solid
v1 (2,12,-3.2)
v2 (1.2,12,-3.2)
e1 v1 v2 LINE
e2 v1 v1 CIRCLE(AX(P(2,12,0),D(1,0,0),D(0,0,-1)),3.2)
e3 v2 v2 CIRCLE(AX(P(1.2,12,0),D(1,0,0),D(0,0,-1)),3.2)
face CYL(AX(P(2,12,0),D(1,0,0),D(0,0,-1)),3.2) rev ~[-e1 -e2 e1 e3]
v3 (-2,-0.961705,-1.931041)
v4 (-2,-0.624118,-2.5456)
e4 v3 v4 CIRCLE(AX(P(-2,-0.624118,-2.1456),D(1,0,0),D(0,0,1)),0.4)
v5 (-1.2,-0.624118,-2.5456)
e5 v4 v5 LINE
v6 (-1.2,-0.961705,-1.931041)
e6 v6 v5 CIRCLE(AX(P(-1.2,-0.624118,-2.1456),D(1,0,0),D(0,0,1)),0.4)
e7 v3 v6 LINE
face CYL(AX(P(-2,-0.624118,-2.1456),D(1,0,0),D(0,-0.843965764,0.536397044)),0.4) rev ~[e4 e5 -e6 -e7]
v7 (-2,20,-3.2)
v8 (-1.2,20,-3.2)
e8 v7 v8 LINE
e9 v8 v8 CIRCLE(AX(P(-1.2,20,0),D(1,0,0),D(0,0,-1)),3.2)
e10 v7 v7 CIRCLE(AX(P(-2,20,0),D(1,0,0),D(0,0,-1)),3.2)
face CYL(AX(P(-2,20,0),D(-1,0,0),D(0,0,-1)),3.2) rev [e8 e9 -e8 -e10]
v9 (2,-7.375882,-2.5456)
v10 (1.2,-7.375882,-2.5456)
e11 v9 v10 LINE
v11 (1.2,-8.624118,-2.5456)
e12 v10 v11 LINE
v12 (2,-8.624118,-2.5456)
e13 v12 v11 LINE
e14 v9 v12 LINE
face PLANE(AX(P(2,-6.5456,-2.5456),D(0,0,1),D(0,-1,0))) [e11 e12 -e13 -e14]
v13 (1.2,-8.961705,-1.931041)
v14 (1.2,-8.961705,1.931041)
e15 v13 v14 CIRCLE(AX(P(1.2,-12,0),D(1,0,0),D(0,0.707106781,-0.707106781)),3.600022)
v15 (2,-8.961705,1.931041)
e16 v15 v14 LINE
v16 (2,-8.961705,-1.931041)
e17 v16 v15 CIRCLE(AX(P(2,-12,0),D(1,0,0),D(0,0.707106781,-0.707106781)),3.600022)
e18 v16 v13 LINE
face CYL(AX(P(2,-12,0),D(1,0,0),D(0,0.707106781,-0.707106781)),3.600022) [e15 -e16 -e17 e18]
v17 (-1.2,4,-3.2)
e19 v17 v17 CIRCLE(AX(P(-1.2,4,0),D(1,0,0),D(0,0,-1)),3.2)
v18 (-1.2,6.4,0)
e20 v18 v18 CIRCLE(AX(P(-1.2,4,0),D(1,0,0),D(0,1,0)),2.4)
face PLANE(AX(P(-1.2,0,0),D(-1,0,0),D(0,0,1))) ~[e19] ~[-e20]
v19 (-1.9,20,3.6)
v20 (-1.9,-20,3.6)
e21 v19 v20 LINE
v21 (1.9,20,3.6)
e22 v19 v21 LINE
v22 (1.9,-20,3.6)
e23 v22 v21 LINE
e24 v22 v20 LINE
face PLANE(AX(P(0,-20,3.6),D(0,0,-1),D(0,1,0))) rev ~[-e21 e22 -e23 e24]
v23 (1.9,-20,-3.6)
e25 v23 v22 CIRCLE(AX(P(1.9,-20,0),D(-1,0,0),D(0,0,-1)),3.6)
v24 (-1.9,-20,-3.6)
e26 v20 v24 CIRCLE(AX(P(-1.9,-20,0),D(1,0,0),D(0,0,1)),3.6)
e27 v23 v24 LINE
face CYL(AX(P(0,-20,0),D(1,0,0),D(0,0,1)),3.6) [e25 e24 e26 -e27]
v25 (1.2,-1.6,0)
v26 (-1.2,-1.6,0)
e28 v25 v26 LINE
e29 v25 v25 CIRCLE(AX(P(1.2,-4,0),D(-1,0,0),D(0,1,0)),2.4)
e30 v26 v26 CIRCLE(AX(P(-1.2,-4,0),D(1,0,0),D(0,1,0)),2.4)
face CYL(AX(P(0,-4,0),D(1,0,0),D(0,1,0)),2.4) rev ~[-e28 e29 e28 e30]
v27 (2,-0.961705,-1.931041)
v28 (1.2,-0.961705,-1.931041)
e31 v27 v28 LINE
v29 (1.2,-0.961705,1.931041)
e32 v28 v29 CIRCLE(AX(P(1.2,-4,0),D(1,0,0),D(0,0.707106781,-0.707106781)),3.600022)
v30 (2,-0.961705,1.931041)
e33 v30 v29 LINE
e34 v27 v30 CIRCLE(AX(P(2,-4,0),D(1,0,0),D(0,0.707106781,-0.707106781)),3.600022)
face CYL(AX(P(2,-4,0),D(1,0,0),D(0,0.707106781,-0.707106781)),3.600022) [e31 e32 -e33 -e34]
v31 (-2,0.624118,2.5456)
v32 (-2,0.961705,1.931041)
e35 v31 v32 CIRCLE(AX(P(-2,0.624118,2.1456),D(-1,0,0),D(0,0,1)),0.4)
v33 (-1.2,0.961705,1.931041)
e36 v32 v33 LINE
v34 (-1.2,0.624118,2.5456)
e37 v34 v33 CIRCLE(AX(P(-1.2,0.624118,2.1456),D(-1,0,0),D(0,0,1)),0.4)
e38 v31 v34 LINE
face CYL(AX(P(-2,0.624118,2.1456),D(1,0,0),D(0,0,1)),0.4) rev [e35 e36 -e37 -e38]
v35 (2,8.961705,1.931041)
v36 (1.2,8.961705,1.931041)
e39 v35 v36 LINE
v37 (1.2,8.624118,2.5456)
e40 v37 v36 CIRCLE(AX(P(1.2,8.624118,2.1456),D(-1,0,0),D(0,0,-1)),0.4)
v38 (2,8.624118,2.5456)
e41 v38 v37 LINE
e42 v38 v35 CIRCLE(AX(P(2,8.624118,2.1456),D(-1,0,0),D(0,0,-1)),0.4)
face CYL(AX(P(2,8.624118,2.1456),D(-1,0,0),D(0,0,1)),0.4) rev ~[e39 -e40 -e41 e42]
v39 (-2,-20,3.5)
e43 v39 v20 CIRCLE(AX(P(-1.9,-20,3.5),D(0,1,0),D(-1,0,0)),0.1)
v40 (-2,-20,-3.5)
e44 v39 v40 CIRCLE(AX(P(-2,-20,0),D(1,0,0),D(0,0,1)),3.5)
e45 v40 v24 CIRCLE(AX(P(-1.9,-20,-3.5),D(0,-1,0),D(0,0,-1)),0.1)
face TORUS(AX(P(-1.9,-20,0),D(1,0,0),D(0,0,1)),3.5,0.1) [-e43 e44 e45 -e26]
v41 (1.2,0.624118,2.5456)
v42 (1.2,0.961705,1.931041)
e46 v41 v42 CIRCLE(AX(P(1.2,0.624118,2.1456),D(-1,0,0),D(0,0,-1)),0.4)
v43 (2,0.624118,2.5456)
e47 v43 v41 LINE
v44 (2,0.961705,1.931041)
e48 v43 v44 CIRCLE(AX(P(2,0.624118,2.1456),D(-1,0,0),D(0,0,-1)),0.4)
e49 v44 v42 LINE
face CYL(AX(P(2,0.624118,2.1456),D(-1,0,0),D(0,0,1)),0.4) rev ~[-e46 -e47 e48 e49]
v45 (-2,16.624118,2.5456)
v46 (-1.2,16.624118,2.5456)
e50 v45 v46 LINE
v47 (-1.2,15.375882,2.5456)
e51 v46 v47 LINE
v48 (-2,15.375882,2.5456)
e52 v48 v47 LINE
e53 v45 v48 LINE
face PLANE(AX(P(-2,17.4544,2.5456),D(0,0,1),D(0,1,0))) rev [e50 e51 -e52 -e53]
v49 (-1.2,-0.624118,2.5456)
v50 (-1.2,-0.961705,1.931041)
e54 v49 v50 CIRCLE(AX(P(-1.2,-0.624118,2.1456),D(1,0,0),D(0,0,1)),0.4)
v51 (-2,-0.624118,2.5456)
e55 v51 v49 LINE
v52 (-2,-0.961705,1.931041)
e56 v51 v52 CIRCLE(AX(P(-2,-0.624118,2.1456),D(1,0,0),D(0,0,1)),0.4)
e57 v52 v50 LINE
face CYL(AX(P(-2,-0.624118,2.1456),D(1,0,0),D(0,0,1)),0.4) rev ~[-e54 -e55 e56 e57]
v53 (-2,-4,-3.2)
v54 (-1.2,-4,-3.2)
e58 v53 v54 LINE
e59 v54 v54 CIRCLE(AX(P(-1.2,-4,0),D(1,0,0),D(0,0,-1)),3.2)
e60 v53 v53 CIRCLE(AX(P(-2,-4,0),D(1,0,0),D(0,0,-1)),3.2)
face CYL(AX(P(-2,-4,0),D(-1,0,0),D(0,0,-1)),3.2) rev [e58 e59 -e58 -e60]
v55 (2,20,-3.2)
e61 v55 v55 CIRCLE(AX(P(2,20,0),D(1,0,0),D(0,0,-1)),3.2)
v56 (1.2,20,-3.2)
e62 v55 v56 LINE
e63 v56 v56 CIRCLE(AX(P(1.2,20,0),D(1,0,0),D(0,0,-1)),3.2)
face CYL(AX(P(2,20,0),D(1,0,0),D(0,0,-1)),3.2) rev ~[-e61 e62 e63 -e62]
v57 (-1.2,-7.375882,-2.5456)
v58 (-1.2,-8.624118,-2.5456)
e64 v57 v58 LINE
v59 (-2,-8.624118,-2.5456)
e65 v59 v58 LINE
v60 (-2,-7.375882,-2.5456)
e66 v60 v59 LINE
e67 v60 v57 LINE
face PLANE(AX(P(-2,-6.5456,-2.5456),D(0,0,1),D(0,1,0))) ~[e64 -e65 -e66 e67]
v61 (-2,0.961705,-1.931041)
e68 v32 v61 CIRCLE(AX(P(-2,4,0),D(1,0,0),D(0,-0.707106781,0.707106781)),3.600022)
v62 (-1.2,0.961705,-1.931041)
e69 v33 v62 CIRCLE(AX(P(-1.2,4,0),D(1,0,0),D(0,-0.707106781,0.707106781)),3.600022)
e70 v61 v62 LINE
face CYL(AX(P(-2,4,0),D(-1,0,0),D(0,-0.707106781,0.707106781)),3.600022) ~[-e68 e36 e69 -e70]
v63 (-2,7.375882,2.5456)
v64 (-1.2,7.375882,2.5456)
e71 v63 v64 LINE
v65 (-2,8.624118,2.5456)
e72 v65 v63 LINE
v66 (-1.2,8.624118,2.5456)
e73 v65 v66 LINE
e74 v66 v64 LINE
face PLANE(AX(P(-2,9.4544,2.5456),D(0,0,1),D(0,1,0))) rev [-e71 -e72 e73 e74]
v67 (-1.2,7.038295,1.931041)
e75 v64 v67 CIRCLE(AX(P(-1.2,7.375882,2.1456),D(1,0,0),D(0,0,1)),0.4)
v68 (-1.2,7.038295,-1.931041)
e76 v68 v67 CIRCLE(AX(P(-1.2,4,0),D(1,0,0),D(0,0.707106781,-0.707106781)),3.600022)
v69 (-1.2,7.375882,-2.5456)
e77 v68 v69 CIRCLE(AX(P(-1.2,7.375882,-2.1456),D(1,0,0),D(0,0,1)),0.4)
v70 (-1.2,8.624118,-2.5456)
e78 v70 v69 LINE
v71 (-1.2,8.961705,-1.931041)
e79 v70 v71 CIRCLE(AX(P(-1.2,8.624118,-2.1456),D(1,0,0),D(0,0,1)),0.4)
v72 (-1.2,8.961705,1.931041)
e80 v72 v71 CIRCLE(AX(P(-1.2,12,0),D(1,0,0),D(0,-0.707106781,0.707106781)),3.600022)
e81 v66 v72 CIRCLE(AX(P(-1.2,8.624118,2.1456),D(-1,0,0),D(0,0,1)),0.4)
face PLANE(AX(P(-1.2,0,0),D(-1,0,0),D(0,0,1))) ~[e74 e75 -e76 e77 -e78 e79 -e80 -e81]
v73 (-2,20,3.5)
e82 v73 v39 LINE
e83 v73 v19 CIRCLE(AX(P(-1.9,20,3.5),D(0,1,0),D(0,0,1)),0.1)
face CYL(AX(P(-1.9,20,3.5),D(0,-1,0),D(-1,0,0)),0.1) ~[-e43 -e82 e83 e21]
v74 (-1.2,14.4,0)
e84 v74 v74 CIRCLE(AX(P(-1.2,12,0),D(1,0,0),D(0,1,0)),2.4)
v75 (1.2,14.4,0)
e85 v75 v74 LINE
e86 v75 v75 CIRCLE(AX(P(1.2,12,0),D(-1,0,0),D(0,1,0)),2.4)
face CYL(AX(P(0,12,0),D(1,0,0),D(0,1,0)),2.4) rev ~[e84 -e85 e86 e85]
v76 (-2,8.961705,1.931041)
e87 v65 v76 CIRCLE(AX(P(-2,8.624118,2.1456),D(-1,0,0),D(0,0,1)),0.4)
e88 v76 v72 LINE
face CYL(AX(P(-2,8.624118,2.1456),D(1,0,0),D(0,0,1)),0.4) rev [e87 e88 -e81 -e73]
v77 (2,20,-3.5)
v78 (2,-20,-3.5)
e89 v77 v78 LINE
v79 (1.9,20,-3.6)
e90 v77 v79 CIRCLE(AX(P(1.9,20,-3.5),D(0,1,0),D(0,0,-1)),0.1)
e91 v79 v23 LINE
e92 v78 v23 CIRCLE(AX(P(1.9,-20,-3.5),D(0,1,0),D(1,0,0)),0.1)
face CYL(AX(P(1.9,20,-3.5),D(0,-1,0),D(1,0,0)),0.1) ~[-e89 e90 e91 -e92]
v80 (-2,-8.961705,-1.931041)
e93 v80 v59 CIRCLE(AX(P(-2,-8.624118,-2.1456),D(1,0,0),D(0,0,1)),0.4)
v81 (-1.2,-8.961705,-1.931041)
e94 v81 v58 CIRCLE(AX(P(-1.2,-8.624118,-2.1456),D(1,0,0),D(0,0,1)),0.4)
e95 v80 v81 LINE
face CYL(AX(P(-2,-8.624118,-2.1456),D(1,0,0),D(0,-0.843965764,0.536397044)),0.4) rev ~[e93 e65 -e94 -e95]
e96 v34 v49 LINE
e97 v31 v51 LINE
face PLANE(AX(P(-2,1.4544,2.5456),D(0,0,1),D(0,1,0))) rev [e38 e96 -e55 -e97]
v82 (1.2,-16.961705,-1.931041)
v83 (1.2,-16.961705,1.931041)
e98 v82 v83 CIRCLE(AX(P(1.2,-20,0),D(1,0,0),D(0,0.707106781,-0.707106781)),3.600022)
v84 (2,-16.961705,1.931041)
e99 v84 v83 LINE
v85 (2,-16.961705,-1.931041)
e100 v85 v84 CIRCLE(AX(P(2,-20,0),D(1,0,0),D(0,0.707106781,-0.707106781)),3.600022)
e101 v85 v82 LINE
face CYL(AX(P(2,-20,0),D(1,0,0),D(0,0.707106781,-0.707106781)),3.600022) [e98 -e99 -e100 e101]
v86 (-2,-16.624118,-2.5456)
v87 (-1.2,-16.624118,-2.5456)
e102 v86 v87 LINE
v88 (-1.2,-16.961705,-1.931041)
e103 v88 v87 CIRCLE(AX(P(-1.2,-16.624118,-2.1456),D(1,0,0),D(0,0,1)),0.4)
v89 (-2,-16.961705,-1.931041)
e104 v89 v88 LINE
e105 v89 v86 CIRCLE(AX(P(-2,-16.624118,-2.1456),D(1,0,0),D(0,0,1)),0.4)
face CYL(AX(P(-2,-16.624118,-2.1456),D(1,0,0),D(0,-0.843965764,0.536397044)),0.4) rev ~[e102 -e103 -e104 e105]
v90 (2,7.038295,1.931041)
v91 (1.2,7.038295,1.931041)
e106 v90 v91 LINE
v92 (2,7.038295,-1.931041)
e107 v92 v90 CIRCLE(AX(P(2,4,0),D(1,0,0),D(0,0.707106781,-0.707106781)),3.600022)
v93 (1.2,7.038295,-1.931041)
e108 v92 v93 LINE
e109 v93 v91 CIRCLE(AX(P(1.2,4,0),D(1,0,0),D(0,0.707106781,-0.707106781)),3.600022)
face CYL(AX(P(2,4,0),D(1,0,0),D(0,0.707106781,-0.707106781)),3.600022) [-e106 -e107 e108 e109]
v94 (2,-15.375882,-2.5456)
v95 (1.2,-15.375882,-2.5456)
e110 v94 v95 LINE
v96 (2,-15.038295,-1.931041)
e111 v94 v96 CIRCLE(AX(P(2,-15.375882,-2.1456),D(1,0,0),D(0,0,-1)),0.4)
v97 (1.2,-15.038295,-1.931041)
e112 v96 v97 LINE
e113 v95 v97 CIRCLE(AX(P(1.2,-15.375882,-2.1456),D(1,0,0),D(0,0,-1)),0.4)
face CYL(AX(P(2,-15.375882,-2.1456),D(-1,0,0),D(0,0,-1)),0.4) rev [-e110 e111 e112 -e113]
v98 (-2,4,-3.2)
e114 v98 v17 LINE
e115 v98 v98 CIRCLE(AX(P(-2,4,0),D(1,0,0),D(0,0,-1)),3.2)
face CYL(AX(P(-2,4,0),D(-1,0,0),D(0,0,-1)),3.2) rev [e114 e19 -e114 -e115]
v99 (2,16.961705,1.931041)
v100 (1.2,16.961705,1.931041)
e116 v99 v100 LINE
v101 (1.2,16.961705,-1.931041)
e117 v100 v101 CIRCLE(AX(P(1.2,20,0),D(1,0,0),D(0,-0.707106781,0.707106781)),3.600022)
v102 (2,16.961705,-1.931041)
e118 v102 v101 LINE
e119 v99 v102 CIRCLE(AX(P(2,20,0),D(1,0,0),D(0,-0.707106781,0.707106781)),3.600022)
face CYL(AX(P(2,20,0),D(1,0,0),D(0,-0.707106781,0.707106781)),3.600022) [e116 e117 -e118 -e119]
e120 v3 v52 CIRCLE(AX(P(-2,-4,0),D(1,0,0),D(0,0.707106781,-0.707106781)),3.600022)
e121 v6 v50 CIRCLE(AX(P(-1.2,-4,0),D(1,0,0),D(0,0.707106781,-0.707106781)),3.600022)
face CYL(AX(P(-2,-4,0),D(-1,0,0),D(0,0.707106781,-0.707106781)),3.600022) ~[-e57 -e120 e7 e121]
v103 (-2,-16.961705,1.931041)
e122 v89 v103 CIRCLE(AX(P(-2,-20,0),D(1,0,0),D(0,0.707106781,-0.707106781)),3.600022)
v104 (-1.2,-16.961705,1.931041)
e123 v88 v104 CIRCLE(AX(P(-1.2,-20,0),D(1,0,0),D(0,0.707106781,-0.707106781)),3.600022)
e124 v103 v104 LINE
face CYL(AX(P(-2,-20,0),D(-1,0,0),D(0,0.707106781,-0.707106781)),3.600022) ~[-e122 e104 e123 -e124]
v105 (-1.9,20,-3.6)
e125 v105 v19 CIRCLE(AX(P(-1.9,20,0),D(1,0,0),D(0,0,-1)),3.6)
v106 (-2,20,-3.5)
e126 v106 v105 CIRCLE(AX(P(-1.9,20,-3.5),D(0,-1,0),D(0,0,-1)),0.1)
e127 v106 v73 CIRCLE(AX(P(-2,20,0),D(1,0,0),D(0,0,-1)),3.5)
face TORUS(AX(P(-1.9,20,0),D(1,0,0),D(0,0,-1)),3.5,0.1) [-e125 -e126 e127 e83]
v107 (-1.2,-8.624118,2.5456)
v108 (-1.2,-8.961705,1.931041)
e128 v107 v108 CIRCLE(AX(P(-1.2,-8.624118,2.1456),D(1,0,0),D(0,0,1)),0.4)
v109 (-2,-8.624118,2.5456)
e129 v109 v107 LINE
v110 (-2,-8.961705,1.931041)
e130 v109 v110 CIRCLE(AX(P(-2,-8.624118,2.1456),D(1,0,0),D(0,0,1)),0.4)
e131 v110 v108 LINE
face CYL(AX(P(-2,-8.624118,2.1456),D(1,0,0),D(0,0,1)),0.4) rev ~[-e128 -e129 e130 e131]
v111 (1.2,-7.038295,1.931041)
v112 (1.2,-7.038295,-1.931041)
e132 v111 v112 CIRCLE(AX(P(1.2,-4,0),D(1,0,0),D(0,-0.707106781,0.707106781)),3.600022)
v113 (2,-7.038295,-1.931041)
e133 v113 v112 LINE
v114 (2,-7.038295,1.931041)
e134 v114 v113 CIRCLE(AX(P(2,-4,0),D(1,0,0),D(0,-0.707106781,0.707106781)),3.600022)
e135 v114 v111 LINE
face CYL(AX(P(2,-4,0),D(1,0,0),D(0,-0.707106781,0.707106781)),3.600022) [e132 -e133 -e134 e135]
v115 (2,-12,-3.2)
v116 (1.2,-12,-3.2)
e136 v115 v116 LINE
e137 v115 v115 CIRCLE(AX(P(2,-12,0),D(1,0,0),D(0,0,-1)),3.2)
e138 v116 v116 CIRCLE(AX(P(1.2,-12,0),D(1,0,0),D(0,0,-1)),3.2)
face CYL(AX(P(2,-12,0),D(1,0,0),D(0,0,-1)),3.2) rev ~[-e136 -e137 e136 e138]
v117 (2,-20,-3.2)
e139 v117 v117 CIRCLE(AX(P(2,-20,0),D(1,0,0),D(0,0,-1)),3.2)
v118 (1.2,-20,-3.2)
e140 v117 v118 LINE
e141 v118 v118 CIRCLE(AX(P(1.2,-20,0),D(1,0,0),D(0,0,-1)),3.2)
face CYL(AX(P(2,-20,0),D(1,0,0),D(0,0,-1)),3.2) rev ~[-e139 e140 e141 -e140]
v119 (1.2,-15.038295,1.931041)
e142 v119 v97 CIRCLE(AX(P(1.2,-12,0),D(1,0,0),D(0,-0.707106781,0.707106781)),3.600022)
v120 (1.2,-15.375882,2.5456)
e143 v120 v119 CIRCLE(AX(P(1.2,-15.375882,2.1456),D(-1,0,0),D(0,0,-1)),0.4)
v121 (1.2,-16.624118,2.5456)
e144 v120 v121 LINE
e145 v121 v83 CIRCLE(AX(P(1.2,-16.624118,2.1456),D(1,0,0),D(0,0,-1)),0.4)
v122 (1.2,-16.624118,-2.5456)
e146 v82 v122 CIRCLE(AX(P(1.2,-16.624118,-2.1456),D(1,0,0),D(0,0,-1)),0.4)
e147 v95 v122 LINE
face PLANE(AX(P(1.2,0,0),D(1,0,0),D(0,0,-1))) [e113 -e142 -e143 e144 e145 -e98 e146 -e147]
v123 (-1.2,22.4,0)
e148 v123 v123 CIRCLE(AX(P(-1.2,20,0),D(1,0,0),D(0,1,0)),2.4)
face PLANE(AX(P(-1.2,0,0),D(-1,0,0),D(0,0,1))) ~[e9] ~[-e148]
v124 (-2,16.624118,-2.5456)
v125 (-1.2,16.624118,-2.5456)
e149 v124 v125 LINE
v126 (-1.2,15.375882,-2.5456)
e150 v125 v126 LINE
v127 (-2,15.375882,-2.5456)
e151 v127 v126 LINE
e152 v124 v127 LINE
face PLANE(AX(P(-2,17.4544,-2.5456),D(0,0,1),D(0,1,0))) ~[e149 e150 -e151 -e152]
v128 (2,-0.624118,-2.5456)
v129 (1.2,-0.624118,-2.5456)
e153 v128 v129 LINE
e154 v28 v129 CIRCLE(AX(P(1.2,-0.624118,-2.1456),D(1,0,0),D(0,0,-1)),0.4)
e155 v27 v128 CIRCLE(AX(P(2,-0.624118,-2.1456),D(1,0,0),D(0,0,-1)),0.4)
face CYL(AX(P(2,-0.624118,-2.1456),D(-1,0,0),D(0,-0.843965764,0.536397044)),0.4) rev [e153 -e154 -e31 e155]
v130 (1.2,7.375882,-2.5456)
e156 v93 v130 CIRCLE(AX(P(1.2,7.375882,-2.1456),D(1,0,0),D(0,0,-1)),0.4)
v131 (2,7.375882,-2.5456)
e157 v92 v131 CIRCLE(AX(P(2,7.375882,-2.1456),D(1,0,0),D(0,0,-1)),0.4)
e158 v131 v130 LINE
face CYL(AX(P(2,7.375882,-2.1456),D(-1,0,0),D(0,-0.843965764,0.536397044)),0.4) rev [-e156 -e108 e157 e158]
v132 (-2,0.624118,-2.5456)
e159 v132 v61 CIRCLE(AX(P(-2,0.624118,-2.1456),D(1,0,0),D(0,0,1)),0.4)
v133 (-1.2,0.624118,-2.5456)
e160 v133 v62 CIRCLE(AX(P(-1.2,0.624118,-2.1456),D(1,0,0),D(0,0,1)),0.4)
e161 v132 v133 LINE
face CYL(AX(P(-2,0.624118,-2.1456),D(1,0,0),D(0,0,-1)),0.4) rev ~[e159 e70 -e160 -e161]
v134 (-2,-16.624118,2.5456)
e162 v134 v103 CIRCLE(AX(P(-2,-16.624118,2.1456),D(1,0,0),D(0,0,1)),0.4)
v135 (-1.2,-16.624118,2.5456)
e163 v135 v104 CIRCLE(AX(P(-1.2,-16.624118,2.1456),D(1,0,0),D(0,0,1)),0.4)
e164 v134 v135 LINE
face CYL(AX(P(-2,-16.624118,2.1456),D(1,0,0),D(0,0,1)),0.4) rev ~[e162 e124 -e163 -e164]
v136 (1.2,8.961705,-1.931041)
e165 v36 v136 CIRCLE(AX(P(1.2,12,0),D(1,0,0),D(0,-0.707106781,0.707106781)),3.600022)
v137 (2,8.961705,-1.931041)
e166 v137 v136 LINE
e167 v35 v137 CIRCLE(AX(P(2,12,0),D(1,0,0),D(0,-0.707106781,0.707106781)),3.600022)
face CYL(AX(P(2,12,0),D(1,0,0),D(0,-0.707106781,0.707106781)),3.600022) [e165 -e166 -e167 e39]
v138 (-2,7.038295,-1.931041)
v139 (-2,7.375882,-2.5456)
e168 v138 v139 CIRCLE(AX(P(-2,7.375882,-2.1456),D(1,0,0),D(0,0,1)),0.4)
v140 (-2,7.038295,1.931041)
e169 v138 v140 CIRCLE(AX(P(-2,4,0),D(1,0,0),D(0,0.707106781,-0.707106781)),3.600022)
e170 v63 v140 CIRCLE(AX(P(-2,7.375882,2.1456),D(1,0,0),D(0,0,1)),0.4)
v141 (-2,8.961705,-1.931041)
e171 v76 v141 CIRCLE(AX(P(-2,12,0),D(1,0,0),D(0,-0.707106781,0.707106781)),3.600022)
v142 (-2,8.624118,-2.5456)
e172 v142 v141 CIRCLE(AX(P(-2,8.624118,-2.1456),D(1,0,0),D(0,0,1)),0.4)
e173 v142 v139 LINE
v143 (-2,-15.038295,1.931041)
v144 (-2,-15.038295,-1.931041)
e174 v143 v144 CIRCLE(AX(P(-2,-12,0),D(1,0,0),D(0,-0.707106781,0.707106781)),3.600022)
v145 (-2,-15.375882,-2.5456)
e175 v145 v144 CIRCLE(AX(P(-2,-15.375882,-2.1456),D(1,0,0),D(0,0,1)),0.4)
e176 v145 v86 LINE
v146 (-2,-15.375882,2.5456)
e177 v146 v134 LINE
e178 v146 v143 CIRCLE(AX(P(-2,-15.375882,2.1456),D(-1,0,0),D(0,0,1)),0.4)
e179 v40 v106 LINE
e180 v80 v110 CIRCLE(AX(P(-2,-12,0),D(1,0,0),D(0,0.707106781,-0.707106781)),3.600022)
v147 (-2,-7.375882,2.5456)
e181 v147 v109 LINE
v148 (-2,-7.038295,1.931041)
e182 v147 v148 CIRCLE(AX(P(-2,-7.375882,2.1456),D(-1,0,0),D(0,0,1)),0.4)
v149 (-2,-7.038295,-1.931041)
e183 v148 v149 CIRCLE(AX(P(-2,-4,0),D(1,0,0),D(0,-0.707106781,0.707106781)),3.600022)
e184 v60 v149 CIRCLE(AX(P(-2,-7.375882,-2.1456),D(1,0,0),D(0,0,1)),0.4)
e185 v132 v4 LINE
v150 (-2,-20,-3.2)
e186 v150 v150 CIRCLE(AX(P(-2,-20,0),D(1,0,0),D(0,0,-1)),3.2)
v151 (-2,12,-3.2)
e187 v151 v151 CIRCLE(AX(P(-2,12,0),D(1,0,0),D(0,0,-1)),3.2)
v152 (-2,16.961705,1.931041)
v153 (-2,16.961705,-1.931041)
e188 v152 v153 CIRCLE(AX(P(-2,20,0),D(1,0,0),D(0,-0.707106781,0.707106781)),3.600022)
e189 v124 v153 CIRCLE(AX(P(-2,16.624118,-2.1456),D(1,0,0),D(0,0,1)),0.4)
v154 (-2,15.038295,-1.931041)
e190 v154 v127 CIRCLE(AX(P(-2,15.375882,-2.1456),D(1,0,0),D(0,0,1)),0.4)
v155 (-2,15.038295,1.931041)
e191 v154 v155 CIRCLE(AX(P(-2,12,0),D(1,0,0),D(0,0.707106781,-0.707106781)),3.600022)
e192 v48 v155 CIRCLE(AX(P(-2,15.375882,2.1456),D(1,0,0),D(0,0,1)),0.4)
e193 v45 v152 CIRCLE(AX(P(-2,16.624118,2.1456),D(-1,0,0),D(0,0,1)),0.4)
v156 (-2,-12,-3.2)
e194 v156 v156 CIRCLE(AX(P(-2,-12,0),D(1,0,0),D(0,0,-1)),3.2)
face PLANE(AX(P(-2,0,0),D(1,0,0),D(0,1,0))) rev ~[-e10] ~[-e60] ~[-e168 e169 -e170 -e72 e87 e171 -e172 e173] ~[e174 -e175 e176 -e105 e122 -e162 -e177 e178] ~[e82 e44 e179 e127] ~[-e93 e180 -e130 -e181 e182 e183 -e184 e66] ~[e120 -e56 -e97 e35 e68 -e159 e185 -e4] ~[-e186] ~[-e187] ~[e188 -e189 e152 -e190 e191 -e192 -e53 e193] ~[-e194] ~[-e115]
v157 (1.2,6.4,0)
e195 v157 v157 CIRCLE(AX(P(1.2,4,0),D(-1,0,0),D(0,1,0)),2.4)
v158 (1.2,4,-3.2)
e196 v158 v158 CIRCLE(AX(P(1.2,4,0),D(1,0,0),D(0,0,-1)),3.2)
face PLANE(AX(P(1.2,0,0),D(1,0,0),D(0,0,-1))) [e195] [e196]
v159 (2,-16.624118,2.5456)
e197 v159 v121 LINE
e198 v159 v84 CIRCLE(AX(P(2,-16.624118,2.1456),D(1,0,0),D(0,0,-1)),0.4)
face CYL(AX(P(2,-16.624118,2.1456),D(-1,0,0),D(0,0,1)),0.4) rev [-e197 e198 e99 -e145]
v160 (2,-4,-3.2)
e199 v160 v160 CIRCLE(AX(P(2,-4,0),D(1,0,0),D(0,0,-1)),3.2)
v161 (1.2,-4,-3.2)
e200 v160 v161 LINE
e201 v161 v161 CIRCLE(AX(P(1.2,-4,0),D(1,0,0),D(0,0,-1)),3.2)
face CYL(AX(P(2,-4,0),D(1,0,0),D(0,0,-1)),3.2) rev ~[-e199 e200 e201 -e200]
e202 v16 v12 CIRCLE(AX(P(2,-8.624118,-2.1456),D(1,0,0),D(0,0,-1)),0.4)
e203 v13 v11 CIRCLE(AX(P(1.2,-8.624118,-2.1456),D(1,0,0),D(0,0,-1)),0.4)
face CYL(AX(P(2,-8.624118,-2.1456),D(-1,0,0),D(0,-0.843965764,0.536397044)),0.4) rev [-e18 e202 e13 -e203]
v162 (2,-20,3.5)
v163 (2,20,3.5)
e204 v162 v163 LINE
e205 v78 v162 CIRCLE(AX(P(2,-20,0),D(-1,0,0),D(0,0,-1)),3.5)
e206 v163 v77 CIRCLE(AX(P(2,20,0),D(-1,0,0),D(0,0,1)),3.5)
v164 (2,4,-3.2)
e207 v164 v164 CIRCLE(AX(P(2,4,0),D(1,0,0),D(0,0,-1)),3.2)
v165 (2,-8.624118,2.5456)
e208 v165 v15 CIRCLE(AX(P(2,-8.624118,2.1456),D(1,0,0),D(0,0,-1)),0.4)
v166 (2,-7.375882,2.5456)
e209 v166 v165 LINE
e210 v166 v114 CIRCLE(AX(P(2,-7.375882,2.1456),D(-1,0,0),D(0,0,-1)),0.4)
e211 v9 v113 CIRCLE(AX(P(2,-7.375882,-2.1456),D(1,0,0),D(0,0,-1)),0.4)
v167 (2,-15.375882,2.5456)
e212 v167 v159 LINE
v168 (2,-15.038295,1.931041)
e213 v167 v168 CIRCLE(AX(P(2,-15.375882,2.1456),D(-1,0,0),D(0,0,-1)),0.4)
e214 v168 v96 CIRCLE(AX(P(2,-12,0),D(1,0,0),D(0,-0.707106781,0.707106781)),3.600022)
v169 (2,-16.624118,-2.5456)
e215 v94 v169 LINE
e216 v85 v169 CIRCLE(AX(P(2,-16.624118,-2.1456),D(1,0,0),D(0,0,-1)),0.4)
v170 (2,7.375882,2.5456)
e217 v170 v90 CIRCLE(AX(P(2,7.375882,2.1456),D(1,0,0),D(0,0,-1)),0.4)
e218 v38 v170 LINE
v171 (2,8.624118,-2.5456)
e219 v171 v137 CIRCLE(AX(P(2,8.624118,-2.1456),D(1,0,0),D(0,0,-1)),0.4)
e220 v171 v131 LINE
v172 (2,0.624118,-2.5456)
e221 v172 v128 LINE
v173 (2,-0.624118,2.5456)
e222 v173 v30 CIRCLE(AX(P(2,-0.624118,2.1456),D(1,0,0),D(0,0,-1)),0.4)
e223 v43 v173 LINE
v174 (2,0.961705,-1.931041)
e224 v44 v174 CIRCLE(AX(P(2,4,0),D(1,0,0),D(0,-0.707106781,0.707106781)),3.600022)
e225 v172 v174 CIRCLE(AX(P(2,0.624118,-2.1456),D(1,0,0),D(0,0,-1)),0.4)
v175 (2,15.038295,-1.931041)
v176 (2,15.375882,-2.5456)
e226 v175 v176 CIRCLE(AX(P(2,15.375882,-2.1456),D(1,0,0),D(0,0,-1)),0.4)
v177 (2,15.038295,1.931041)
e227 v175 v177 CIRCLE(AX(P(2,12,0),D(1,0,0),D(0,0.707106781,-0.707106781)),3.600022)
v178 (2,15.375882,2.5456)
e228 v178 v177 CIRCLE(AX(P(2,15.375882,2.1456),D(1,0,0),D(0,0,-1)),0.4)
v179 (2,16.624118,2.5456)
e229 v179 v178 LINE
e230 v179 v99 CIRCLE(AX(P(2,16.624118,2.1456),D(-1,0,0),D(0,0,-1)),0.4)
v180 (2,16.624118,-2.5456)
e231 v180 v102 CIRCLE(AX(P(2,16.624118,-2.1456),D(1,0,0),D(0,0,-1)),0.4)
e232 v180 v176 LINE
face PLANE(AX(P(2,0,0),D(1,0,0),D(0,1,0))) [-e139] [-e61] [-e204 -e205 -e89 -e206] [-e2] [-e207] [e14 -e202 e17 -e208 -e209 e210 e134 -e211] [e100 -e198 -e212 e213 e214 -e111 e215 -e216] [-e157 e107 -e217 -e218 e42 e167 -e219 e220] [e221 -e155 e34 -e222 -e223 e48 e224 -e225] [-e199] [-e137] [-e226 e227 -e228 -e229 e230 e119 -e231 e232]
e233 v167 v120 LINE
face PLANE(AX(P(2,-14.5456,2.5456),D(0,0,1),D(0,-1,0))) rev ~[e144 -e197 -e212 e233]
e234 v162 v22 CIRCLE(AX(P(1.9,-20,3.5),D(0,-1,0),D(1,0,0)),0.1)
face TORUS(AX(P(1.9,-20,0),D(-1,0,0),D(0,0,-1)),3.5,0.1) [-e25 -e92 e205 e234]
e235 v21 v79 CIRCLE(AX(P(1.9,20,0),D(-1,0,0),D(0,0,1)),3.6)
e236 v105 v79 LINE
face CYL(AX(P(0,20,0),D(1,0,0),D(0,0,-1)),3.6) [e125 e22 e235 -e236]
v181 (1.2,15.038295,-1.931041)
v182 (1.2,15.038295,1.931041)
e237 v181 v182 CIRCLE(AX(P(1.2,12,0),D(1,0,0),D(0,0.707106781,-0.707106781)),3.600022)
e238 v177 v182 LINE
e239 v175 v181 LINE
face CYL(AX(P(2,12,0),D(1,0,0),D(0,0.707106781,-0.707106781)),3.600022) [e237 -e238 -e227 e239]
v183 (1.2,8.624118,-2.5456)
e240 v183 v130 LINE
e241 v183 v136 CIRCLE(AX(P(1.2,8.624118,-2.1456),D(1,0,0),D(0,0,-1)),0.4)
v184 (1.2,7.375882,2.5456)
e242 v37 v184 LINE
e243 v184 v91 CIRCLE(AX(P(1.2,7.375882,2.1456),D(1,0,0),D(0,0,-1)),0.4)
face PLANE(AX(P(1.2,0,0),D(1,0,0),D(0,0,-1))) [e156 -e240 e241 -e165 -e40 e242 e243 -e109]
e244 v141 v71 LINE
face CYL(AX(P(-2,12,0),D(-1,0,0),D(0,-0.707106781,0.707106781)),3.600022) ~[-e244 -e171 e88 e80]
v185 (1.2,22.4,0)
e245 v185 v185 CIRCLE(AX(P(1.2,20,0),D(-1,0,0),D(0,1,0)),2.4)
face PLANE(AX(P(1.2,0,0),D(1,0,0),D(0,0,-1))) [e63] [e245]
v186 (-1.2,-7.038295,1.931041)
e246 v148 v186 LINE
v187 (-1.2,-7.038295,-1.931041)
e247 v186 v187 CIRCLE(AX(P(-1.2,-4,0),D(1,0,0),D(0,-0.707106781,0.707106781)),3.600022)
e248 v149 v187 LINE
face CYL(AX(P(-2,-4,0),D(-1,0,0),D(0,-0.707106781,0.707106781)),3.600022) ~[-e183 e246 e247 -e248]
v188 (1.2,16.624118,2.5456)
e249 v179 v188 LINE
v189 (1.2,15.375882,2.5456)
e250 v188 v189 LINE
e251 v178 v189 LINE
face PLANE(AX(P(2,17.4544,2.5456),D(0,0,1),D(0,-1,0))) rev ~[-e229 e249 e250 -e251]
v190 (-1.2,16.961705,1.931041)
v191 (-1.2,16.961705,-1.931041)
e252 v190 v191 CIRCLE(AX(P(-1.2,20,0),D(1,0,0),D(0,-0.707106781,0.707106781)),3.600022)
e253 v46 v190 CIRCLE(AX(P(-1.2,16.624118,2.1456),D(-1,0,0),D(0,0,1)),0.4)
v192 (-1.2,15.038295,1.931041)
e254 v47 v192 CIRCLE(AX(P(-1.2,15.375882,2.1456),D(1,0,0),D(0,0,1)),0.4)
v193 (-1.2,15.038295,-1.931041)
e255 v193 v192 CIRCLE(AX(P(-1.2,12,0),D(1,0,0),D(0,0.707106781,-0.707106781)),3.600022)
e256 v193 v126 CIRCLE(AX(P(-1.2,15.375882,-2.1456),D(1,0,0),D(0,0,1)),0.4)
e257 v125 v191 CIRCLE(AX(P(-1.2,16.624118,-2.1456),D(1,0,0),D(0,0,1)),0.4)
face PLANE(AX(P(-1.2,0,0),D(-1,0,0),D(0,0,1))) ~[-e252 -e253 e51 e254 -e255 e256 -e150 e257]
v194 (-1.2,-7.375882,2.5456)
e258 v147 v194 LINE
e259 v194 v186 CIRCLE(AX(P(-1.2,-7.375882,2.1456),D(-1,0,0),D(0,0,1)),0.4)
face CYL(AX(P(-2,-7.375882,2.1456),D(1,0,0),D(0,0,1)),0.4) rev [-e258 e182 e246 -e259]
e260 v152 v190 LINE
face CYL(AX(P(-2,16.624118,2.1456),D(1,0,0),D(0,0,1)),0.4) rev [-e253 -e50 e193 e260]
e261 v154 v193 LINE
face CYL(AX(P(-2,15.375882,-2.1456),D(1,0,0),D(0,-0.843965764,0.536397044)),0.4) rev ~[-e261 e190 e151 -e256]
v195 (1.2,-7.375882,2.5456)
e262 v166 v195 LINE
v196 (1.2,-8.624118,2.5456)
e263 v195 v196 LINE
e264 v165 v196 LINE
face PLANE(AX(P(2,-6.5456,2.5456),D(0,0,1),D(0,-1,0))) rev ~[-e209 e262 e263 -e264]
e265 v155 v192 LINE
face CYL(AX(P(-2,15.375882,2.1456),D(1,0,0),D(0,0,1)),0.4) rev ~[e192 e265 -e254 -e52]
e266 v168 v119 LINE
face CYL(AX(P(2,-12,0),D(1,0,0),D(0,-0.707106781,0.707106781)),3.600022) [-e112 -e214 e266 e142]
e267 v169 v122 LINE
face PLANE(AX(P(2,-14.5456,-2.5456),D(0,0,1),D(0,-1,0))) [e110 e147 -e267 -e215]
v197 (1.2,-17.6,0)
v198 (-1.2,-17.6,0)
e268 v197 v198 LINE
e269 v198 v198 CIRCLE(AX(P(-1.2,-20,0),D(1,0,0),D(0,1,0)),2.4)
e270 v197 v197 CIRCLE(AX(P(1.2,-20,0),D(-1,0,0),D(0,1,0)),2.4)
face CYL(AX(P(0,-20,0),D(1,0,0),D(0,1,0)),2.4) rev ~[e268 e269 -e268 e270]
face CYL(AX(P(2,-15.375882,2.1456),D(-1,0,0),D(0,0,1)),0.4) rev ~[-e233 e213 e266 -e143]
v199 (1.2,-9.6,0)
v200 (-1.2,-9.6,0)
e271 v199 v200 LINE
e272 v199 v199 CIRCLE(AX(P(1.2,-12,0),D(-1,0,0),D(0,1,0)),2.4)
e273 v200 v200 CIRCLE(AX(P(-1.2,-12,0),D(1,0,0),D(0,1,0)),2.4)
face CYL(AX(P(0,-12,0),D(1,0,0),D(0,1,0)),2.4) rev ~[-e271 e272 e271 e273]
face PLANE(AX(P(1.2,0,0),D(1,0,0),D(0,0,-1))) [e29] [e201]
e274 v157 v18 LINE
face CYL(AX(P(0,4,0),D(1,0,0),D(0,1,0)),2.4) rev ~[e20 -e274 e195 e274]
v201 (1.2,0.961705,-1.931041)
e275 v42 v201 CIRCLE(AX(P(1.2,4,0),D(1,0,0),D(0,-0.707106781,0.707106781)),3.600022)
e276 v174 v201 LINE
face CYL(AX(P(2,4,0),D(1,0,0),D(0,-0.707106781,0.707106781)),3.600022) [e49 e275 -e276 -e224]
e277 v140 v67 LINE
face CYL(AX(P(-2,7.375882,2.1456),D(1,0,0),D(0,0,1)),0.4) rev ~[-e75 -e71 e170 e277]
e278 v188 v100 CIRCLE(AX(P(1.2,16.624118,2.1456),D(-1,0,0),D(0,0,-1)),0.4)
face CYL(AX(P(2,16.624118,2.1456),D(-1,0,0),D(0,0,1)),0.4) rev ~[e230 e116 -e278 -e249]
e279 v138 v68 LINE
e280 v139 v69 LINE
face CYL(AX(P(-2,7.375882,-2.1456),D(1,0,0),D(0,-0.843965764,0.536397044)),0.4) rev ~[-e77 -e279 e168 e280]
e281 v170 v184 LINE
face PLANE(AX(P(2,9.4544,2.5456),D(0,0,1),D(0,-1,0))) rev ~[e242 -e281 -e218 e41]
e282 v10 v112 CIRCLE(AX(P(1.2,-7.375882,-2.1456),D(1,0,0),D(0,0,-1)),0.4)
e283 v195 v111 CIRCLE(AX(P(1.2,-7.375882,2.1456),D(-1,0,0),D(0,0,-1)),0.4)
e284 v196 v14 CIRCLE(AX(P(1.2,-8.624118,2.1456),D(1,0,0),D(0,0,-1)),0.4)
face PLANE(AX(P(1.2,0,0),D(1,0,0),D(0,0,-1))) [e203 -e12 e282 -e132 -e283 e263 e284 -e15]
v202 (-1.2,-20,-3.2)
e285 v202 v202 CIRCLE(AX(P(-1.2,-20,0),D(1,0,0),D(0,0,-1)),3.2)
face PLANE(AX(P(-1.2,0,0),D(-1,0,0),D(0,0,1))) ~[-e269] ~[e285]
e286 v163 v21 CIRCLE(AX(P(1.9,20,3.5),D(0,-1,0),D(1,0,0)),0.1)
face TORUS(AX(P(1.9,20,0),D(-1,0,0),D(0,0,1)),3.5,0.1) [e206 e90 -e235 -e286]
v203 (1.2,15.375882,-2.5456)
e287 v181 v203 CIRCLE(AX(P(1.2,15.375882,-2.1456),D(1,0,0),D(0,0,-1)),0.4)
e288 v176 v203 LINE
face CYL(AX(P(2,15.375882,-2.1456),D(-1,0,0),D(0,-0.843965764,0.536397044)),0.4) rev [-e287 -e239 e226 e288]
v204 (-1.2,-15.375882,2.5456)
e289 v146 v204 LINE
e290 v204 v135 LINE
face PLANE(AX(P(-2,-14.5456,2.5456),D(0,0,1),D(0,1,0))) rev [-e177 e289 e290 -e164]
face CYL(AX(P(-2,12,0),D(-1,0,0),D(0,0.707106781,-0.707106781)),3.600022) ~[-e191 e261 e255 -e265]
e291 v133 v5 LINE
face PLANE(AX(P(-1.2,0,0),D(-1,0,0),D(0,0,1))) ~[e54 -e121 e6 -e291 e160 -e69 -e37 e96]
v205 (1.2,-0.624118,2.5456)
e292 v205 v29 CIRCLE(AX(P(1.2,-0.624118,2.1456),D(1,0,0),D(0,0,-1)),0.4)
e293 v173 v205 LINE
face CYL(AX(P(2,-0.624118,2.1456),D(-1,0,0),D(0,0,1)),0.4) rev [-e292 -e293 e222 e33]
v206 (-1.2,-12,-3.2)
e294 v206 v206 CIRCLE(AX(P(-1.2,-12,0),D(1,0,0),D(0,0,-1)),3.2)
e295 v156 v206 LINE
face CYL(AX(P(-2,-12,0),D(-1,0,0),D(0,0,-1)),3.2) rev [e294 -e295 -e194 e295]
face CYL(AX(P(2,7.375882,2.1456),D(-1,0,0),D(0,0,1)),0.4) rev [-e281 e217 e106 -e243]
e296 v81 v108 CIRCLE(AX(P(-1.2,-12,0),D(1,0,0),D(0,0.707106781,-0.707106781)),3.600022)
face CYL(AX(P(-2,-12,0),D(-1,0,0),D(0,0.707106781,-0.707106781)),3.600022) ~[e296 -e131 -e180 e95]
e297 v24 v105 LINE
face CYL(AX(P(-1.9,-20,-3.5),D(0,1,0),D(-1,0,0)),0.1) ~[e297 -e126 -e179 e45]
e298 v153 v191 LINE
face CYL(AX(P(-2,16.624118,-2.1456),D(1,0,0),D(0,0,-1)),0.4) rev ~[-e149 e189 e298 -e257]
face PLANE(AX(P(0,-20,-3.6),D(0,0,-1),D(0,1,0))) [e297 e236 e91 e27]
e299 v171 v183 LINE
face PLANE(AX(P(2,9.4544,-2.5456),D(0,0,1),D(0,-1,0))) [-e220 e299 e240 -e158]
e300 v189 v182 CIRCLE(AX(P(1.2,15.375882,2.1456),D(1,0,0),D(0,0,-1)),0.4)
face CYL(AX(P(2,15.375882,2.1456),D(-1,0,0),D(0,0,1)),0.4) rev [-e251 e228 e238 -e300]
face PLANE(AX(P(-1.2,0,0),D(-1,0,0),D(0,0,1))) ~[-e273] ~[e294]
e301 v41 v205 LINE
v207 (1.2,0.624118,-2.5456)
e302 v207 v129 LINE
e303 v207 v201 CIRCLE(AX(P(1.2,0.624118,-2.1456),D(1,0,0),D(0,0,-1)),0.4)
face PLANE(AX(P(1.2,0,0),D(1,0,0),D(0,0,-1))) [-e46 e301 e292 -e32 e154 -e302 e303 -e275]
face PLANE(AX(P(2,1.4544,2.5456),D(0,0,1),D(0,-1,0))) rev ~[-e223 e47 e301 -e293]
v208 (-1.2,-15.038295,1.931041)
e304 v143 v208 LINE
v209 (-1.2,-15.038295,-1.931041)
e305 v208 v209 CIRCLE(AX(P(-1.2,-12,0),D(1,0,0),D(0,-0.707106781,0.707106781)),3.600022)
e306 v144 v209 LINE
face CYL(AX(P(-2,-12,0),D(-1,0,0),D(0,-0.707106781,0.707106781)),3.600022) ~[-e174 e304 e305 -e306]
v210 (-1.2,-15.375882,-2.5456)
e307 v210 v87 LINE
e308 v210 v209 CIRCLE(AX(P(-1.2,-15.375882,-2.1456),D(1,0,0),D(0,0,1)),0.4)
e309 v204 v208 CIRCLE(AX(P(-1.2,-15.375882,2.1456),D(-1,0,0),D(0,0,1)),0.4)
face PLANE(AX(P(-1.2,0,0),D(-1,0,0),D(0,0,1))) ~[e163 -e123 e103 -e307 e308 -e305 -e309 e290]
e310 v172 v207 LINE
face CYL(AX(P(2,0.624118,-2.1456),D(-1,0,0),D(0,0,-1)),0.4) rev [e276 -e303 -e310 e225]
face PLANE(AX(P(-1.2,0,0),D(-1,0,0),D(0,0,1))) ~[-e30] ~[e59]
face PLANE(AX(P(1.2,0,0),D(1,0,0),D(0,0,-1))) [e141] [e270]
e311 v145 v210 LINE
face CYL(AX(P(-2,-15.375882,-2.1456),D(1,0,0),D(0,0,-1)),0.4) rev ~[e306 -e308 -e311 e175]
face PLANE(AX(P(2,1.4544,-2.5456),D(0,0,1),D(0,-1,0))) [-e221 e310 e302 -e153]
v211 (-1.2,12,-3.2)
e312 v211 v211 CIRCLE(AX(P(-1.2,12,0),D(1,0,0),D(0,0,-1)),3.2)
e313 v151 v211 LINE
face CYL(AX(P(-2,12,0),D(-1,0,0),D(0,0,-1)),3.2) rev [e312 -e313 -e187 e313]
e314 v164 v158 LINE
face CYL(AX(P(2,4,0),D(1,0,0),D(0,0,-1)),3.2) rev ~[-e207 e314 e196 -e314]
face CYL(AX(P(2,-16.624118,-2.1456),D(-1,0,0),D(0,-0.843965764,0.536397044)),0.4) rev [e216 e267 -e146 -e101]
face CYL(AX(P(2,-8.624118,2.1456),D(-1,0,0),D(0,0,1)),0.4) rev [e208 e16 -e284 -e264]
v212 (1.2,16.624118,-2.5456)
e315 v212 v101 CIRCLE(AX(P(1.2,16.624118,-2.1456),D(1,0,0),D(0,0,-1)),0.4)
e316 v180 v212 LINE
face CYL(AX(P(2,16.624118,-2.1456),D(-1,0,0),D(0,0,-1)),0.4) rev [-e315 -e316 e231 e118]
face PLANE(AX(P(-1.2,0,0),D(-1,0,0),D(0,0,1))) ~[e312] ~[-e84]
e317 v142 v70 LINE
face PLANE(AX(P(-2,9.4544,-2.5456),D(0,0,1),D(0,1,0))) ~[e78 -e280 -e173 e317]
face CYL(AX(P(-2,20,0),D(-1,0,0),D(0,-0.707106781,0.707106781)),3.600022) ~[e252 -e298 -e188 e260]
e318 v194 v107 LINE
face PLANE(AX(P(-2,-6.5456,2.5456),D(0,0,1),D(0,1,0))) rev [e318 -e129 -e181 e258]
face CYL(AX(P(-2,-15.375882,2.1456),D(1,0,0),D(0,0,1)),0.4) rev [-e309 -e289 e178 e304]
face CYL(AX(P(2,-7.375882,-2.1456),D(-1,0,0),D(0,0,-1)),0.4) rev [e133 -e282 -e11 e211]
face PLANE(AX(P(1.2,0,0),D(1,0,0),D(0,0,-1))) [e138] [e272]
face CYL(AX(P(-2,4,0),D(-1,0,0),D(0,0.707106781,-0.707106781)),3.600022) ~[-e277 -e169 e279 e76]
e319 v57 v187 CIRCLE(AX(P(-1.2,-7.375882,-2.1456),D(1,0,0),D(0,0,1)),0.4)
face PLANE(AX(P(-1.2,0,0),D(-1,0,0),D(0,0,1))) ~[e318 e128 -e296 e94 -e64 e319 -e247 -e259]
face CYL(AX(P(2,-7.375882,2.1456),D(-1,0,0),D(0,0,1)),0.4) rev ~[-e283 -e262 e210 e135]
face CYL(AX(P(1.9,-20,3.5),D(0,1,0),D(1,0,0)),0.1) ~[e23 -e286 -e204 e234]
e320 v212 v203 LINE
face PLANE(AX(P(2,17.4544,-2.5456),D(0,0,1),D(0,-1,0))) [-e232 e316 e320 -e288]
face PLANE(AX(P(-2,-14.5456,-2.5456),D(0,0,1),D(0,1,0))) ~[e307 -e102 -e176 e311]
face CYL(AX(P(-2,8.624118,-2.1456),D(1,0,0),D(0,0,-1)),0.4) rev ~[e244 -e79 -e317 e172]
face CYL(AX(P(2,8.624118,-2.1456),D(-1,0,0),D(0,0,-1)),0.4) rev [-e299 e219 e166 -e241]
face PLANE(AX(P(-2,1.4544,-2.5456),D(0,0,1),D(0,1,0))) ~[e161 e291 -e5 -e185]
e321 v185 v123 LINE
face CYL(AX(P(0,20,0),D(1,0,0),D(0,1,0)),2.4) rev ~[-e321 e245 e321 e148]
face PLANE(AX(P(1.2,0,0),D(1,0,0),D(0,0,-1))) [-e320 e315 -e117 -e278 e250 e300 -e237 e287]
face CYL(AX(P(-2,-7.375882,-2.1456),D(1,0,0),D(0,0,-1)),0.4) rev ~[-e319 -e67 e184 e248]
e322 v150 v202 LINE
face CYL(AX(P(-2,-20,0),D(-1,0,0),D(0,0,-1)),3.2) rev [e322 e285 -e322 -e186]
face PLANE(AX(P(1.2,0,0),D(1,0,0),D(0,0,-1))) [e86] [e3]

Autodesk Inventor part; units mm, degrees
ref_plane "YZ Plane" through (0, 0, 0) normal (1, 0, 0) x (0, 1, 0)
ref_plane "XZ Plane" through (0, 0, 0) normal (0, 1, 0) x (-1, 0, 0)
ref_plane "XY Plane" through (0, 0, 0) normal (0, 0, 1) x (1, 0, 0)
sketch "Sketch3" plane through (0, 0, 0) normal (1, 0, 0) x (0, 1, 0)
  arc A0 (20, -3.6) -> (20, 3.6) centre (20, 0) ccw
  line L0 (-20, -3.6) -> (20, -3.6)
  line L1 (-20, 3.6) -> (20, 3.6)
  arc A1 (-20, 3.6) -> (-20, -3.6) centre (-20, 0) ccw
  line L2 (0, -3.6) -> (0, 3.6) construction
  circle A2 centre (-12, 0) radius 3.2
  circle A3 centre (-4, 0) radius 3.2
  line L3 (-4, 0) -> (-12, 0) construction
  line L4 (-12, 0) -> (-20, 0) construction
  circle A4 centre (-12, 0) radius 2.4
  circle A5 centre (-4, 0) radius 2.4
  circle A6 centre (-20, 0) radius 3.2
  circle A7 centre (-20, 0) radius 2.4
  circle A8 centre (4, 0) radius 3.2
  circle A9 centre (4, 0) radius 2.4
  circle A10 centre (20, 0) radius 3.2
  circle A11 centre (20, 0) radius 2.4
  line L5 (-4, 0) -> (4, 0) construction
  circle A12 centre (12, 0) radius 2.4
  circle A13 centre (12, 0) radius 3.2
  line L6 (4, 0) -> (12, 0) construction
  line L7 (12, 0) -> (20, 0) construction
  point P0 (0, 0)
  point P1 (0, 0)
  dimension "d49" = 7.2
  dimension "d59" = 6.4
  dimension "d60" = 4.8
  dimension "d64" = 8
extrude "Extrusion4" add sketch "Sketch3" along normal mid plane 4 contours L0 A1 L1 A0 | A2 | A3 | A6 | A8 | A10 | A13
sketch "Sketch11" plane through (2, 0, 0) normal (1, 0, 0) x (0, 0, -1)
  circle A0 centre (0, -4) radius 2.4 projected
  circle A1 centre (0, -12) radius 2.4 projected
  circle A2 centre (0, -4) radius 3.2
  circle A3 centre (0, -12) radius 3.2
  circle A4 centre (0, 4) radius 2.4 projected
  arc A5 (3.6, 20) -> (-3.6, 20) centre (0, 20) ccw projected
  arc A6 (-3.6, -20) -> (3.6, -20) centre (0, -20) ccw projected
  circle A7 centre (0, -20) radius 3.2
  circle A8 centre (0, 4) radius 3.2
  circle A9 centre (0, 20) radius 3.2
  circle A10 centre (0, 12) radius 2.4 projected
  circle A11 centre (0, 12) radius 3.2
  circle A12 centre (0, 20) radius 2.4 projected
  line L0 (-3.6, -20) -> (-3.6, 20) projected
  line L1 (-2.5456, 17.4544) -> (-2.5456, 14.5456)
  line L2 (2.5456, 17.4544) -> (2.5456, 14.5456)
  arc A13 (-2.5456, 17.4544) -> (2.5456, 17.4544) centre (0, 20) ccw
  arc A14 (2.5456, 14.5456) -> (-2.5456, 14.5456) centre (0, 12) ccw
  line L3 (-2.5456, 17.4544) -> (0, 20) construction
  line L4 (-2.5456, 9.4544) -> (-2.5456, 6.5456)
  line L5 (2.5456, 9.4544) -> (2.5456, 6.5456)
  arc A15 (-2.5456, 9.4544) -> (2.5456, 9.4544) centre (0, 12) ccw
  arc A16 (2.5456, 6.5456) -> (-2.5456, 6.5456) centre (0, 4) ccw
  line L6 (-2.5456, 1.4544) -> (-2.5456, -1.4544)
  line L7 (2.5456, 1.4544) -> (2.5456, -1.4544)
  arc A17 (-2.5456, 1.4544) -> (2.5456, 1.4544) centre (0, 4) ccw
  arc A18 (2.5456, -1.4544) -> (-2.5456, -1.4544) centre (0, -4) ccw
  line L8 (-2.5456, -6.5456) -> (-2.5456, -9.4544)
  line L9 (2.5456, -6.5456) -> (2.5456, -9.4544)
  arc A19 (-2.5456, -6.5456) -> (2.5456, -6.5456) centre (0, -4) ccw
  arc A20 (2.5456, -9.4544) -> (-2.5456, -9.4544) centre (0, -12) ccw
  line L10 (-2.5456, -14.5456) -> (-2.5456, -17.4544)
  line L11 (2.5456, -14.5456) -> (2.5456, -17.4544)
  arc A21 (-2.5456, -14.5456) -> (2.5456, -14.5456) centre (0, -12) ccw
  arc A22 (2.5456, -17.4544) -> (-2.5456, -17.4544) centre (0, -20) ccw
  point P0 (0, 0)
  dimension "d61" = 6.4
  dimension "d65" = 45
  dimension "d68" = 8
extrude "Extrusion16" cut sketch "Sketch11" against normal blind 0.8 contours A0 | A1 | A2 | A3 | A4 | A7 | A8 | A9 | A10 | A11 | A12
extrude "Extrusion17" cut sketch "Sketch11" against normal blind 0.8 contours A13 L2 A14 L1 | A15 L5 A16 L4 | A17 L7 A18 L6 | A19 L9 A20 L8 | A21 L11 A22 L10
mirror "Mirror3" about plane through (0, 0, 0) normal (1, 0, 0) of "Extrusion16", "Extrusion17"
fillet "Fillet1" radius 0.1 8 edges at (-2, 23.6, 0) (-2, 0, 3.6) (-2, 0, -3.6) (2, 0, 3.6) (2, 0, -3.6) (2, 23.6, 0) (-2, -23.6, 0) (2, -23.6, 0)
fillet "Fillet1" radius 0.4 40 edges at (1.6, -17.4544, 2.5456) (1.6, -14.5456, 2.5456) (1.6, -17.4544, -2.5456) (1.6, -14.5456, -2.5456) (1.6, -9.4544, 2.5456) (1.6, -6.5456, 2.5456) (1.6, -9.4544, -2.5456) (1.6, -6.5456, -2.5456) (1.6, -1.4544, 2.5456) (1.6, -1.4544, -2.5456) (1.6, 1.4544, 2.5456) (1.6, 1.4544, -2.5456) (1.6, 6.5456, 2.5456) (1.6, 6.5456, -2.5456) (1.6, 9.4544, 2.5456) (1.6, 9.4544, -2.5456) (1.6, 14.5456, 2.5456) (1.6, 14.5456, -2.5456) (1.6, 17.4544, 2.5456) (1.6, 17.4544, -2.5456) (-1.6, 17.4544, 2.5456) (-1.6, 14.5456, 2.5456) (-1.6, 17.4544, -2.5456) (-1.6, 14.5456, -2.5456) (-1.6, 9.4544, 2.5456) (-1.6, 6.5456, 2.5456) (-1.6, 9.4544, -2.5456) (-1.6, 6.5456, -2.5456) (-1.6, 1.4544, 2.5456) (-1.6, -1.4544, 2.5456) (-1.6, 1.4544, -2.5456) (-1.6, -1.4544, -2.5456) (-1.6, -6.5456, 2.5456) (-1.6, -6.5456, -2.5456) (-1.6, -9.4544, 2.5456) (-1.6, -9.4544, -2.5456) (-1.6, -14.5456, 2.5456) (-1.6, -14.5456, -2.5456) (-1.6, -17.4544, 2.5456) (-1.6, -17.4544, -2.5456)
equation "\"d49\" = tlad"
equation "\"d59\" = tsd"
equation "\"d60\" = tpd"
equation "\"d64\" = lu"
equation "\"d15\" = 0.5 * lu"
equation "\"d61\" = tsd"
equation "\"d68\" = lu"
equation "\"d62\" = tsl"
equation "\"d73\" = 0.5 * lu - 2 * wall"
equation "\"tlad\" = 7.2"
equation "\"tsd\" = 6.4"
equation "\"tpd\" = 4.8"
equation "\"lu\" = 8"
equation "\"tsl\" = 0.8"
equation "\"wall\" = 1.6"
properties part number "32063-Red" material "ABS Plastic"
